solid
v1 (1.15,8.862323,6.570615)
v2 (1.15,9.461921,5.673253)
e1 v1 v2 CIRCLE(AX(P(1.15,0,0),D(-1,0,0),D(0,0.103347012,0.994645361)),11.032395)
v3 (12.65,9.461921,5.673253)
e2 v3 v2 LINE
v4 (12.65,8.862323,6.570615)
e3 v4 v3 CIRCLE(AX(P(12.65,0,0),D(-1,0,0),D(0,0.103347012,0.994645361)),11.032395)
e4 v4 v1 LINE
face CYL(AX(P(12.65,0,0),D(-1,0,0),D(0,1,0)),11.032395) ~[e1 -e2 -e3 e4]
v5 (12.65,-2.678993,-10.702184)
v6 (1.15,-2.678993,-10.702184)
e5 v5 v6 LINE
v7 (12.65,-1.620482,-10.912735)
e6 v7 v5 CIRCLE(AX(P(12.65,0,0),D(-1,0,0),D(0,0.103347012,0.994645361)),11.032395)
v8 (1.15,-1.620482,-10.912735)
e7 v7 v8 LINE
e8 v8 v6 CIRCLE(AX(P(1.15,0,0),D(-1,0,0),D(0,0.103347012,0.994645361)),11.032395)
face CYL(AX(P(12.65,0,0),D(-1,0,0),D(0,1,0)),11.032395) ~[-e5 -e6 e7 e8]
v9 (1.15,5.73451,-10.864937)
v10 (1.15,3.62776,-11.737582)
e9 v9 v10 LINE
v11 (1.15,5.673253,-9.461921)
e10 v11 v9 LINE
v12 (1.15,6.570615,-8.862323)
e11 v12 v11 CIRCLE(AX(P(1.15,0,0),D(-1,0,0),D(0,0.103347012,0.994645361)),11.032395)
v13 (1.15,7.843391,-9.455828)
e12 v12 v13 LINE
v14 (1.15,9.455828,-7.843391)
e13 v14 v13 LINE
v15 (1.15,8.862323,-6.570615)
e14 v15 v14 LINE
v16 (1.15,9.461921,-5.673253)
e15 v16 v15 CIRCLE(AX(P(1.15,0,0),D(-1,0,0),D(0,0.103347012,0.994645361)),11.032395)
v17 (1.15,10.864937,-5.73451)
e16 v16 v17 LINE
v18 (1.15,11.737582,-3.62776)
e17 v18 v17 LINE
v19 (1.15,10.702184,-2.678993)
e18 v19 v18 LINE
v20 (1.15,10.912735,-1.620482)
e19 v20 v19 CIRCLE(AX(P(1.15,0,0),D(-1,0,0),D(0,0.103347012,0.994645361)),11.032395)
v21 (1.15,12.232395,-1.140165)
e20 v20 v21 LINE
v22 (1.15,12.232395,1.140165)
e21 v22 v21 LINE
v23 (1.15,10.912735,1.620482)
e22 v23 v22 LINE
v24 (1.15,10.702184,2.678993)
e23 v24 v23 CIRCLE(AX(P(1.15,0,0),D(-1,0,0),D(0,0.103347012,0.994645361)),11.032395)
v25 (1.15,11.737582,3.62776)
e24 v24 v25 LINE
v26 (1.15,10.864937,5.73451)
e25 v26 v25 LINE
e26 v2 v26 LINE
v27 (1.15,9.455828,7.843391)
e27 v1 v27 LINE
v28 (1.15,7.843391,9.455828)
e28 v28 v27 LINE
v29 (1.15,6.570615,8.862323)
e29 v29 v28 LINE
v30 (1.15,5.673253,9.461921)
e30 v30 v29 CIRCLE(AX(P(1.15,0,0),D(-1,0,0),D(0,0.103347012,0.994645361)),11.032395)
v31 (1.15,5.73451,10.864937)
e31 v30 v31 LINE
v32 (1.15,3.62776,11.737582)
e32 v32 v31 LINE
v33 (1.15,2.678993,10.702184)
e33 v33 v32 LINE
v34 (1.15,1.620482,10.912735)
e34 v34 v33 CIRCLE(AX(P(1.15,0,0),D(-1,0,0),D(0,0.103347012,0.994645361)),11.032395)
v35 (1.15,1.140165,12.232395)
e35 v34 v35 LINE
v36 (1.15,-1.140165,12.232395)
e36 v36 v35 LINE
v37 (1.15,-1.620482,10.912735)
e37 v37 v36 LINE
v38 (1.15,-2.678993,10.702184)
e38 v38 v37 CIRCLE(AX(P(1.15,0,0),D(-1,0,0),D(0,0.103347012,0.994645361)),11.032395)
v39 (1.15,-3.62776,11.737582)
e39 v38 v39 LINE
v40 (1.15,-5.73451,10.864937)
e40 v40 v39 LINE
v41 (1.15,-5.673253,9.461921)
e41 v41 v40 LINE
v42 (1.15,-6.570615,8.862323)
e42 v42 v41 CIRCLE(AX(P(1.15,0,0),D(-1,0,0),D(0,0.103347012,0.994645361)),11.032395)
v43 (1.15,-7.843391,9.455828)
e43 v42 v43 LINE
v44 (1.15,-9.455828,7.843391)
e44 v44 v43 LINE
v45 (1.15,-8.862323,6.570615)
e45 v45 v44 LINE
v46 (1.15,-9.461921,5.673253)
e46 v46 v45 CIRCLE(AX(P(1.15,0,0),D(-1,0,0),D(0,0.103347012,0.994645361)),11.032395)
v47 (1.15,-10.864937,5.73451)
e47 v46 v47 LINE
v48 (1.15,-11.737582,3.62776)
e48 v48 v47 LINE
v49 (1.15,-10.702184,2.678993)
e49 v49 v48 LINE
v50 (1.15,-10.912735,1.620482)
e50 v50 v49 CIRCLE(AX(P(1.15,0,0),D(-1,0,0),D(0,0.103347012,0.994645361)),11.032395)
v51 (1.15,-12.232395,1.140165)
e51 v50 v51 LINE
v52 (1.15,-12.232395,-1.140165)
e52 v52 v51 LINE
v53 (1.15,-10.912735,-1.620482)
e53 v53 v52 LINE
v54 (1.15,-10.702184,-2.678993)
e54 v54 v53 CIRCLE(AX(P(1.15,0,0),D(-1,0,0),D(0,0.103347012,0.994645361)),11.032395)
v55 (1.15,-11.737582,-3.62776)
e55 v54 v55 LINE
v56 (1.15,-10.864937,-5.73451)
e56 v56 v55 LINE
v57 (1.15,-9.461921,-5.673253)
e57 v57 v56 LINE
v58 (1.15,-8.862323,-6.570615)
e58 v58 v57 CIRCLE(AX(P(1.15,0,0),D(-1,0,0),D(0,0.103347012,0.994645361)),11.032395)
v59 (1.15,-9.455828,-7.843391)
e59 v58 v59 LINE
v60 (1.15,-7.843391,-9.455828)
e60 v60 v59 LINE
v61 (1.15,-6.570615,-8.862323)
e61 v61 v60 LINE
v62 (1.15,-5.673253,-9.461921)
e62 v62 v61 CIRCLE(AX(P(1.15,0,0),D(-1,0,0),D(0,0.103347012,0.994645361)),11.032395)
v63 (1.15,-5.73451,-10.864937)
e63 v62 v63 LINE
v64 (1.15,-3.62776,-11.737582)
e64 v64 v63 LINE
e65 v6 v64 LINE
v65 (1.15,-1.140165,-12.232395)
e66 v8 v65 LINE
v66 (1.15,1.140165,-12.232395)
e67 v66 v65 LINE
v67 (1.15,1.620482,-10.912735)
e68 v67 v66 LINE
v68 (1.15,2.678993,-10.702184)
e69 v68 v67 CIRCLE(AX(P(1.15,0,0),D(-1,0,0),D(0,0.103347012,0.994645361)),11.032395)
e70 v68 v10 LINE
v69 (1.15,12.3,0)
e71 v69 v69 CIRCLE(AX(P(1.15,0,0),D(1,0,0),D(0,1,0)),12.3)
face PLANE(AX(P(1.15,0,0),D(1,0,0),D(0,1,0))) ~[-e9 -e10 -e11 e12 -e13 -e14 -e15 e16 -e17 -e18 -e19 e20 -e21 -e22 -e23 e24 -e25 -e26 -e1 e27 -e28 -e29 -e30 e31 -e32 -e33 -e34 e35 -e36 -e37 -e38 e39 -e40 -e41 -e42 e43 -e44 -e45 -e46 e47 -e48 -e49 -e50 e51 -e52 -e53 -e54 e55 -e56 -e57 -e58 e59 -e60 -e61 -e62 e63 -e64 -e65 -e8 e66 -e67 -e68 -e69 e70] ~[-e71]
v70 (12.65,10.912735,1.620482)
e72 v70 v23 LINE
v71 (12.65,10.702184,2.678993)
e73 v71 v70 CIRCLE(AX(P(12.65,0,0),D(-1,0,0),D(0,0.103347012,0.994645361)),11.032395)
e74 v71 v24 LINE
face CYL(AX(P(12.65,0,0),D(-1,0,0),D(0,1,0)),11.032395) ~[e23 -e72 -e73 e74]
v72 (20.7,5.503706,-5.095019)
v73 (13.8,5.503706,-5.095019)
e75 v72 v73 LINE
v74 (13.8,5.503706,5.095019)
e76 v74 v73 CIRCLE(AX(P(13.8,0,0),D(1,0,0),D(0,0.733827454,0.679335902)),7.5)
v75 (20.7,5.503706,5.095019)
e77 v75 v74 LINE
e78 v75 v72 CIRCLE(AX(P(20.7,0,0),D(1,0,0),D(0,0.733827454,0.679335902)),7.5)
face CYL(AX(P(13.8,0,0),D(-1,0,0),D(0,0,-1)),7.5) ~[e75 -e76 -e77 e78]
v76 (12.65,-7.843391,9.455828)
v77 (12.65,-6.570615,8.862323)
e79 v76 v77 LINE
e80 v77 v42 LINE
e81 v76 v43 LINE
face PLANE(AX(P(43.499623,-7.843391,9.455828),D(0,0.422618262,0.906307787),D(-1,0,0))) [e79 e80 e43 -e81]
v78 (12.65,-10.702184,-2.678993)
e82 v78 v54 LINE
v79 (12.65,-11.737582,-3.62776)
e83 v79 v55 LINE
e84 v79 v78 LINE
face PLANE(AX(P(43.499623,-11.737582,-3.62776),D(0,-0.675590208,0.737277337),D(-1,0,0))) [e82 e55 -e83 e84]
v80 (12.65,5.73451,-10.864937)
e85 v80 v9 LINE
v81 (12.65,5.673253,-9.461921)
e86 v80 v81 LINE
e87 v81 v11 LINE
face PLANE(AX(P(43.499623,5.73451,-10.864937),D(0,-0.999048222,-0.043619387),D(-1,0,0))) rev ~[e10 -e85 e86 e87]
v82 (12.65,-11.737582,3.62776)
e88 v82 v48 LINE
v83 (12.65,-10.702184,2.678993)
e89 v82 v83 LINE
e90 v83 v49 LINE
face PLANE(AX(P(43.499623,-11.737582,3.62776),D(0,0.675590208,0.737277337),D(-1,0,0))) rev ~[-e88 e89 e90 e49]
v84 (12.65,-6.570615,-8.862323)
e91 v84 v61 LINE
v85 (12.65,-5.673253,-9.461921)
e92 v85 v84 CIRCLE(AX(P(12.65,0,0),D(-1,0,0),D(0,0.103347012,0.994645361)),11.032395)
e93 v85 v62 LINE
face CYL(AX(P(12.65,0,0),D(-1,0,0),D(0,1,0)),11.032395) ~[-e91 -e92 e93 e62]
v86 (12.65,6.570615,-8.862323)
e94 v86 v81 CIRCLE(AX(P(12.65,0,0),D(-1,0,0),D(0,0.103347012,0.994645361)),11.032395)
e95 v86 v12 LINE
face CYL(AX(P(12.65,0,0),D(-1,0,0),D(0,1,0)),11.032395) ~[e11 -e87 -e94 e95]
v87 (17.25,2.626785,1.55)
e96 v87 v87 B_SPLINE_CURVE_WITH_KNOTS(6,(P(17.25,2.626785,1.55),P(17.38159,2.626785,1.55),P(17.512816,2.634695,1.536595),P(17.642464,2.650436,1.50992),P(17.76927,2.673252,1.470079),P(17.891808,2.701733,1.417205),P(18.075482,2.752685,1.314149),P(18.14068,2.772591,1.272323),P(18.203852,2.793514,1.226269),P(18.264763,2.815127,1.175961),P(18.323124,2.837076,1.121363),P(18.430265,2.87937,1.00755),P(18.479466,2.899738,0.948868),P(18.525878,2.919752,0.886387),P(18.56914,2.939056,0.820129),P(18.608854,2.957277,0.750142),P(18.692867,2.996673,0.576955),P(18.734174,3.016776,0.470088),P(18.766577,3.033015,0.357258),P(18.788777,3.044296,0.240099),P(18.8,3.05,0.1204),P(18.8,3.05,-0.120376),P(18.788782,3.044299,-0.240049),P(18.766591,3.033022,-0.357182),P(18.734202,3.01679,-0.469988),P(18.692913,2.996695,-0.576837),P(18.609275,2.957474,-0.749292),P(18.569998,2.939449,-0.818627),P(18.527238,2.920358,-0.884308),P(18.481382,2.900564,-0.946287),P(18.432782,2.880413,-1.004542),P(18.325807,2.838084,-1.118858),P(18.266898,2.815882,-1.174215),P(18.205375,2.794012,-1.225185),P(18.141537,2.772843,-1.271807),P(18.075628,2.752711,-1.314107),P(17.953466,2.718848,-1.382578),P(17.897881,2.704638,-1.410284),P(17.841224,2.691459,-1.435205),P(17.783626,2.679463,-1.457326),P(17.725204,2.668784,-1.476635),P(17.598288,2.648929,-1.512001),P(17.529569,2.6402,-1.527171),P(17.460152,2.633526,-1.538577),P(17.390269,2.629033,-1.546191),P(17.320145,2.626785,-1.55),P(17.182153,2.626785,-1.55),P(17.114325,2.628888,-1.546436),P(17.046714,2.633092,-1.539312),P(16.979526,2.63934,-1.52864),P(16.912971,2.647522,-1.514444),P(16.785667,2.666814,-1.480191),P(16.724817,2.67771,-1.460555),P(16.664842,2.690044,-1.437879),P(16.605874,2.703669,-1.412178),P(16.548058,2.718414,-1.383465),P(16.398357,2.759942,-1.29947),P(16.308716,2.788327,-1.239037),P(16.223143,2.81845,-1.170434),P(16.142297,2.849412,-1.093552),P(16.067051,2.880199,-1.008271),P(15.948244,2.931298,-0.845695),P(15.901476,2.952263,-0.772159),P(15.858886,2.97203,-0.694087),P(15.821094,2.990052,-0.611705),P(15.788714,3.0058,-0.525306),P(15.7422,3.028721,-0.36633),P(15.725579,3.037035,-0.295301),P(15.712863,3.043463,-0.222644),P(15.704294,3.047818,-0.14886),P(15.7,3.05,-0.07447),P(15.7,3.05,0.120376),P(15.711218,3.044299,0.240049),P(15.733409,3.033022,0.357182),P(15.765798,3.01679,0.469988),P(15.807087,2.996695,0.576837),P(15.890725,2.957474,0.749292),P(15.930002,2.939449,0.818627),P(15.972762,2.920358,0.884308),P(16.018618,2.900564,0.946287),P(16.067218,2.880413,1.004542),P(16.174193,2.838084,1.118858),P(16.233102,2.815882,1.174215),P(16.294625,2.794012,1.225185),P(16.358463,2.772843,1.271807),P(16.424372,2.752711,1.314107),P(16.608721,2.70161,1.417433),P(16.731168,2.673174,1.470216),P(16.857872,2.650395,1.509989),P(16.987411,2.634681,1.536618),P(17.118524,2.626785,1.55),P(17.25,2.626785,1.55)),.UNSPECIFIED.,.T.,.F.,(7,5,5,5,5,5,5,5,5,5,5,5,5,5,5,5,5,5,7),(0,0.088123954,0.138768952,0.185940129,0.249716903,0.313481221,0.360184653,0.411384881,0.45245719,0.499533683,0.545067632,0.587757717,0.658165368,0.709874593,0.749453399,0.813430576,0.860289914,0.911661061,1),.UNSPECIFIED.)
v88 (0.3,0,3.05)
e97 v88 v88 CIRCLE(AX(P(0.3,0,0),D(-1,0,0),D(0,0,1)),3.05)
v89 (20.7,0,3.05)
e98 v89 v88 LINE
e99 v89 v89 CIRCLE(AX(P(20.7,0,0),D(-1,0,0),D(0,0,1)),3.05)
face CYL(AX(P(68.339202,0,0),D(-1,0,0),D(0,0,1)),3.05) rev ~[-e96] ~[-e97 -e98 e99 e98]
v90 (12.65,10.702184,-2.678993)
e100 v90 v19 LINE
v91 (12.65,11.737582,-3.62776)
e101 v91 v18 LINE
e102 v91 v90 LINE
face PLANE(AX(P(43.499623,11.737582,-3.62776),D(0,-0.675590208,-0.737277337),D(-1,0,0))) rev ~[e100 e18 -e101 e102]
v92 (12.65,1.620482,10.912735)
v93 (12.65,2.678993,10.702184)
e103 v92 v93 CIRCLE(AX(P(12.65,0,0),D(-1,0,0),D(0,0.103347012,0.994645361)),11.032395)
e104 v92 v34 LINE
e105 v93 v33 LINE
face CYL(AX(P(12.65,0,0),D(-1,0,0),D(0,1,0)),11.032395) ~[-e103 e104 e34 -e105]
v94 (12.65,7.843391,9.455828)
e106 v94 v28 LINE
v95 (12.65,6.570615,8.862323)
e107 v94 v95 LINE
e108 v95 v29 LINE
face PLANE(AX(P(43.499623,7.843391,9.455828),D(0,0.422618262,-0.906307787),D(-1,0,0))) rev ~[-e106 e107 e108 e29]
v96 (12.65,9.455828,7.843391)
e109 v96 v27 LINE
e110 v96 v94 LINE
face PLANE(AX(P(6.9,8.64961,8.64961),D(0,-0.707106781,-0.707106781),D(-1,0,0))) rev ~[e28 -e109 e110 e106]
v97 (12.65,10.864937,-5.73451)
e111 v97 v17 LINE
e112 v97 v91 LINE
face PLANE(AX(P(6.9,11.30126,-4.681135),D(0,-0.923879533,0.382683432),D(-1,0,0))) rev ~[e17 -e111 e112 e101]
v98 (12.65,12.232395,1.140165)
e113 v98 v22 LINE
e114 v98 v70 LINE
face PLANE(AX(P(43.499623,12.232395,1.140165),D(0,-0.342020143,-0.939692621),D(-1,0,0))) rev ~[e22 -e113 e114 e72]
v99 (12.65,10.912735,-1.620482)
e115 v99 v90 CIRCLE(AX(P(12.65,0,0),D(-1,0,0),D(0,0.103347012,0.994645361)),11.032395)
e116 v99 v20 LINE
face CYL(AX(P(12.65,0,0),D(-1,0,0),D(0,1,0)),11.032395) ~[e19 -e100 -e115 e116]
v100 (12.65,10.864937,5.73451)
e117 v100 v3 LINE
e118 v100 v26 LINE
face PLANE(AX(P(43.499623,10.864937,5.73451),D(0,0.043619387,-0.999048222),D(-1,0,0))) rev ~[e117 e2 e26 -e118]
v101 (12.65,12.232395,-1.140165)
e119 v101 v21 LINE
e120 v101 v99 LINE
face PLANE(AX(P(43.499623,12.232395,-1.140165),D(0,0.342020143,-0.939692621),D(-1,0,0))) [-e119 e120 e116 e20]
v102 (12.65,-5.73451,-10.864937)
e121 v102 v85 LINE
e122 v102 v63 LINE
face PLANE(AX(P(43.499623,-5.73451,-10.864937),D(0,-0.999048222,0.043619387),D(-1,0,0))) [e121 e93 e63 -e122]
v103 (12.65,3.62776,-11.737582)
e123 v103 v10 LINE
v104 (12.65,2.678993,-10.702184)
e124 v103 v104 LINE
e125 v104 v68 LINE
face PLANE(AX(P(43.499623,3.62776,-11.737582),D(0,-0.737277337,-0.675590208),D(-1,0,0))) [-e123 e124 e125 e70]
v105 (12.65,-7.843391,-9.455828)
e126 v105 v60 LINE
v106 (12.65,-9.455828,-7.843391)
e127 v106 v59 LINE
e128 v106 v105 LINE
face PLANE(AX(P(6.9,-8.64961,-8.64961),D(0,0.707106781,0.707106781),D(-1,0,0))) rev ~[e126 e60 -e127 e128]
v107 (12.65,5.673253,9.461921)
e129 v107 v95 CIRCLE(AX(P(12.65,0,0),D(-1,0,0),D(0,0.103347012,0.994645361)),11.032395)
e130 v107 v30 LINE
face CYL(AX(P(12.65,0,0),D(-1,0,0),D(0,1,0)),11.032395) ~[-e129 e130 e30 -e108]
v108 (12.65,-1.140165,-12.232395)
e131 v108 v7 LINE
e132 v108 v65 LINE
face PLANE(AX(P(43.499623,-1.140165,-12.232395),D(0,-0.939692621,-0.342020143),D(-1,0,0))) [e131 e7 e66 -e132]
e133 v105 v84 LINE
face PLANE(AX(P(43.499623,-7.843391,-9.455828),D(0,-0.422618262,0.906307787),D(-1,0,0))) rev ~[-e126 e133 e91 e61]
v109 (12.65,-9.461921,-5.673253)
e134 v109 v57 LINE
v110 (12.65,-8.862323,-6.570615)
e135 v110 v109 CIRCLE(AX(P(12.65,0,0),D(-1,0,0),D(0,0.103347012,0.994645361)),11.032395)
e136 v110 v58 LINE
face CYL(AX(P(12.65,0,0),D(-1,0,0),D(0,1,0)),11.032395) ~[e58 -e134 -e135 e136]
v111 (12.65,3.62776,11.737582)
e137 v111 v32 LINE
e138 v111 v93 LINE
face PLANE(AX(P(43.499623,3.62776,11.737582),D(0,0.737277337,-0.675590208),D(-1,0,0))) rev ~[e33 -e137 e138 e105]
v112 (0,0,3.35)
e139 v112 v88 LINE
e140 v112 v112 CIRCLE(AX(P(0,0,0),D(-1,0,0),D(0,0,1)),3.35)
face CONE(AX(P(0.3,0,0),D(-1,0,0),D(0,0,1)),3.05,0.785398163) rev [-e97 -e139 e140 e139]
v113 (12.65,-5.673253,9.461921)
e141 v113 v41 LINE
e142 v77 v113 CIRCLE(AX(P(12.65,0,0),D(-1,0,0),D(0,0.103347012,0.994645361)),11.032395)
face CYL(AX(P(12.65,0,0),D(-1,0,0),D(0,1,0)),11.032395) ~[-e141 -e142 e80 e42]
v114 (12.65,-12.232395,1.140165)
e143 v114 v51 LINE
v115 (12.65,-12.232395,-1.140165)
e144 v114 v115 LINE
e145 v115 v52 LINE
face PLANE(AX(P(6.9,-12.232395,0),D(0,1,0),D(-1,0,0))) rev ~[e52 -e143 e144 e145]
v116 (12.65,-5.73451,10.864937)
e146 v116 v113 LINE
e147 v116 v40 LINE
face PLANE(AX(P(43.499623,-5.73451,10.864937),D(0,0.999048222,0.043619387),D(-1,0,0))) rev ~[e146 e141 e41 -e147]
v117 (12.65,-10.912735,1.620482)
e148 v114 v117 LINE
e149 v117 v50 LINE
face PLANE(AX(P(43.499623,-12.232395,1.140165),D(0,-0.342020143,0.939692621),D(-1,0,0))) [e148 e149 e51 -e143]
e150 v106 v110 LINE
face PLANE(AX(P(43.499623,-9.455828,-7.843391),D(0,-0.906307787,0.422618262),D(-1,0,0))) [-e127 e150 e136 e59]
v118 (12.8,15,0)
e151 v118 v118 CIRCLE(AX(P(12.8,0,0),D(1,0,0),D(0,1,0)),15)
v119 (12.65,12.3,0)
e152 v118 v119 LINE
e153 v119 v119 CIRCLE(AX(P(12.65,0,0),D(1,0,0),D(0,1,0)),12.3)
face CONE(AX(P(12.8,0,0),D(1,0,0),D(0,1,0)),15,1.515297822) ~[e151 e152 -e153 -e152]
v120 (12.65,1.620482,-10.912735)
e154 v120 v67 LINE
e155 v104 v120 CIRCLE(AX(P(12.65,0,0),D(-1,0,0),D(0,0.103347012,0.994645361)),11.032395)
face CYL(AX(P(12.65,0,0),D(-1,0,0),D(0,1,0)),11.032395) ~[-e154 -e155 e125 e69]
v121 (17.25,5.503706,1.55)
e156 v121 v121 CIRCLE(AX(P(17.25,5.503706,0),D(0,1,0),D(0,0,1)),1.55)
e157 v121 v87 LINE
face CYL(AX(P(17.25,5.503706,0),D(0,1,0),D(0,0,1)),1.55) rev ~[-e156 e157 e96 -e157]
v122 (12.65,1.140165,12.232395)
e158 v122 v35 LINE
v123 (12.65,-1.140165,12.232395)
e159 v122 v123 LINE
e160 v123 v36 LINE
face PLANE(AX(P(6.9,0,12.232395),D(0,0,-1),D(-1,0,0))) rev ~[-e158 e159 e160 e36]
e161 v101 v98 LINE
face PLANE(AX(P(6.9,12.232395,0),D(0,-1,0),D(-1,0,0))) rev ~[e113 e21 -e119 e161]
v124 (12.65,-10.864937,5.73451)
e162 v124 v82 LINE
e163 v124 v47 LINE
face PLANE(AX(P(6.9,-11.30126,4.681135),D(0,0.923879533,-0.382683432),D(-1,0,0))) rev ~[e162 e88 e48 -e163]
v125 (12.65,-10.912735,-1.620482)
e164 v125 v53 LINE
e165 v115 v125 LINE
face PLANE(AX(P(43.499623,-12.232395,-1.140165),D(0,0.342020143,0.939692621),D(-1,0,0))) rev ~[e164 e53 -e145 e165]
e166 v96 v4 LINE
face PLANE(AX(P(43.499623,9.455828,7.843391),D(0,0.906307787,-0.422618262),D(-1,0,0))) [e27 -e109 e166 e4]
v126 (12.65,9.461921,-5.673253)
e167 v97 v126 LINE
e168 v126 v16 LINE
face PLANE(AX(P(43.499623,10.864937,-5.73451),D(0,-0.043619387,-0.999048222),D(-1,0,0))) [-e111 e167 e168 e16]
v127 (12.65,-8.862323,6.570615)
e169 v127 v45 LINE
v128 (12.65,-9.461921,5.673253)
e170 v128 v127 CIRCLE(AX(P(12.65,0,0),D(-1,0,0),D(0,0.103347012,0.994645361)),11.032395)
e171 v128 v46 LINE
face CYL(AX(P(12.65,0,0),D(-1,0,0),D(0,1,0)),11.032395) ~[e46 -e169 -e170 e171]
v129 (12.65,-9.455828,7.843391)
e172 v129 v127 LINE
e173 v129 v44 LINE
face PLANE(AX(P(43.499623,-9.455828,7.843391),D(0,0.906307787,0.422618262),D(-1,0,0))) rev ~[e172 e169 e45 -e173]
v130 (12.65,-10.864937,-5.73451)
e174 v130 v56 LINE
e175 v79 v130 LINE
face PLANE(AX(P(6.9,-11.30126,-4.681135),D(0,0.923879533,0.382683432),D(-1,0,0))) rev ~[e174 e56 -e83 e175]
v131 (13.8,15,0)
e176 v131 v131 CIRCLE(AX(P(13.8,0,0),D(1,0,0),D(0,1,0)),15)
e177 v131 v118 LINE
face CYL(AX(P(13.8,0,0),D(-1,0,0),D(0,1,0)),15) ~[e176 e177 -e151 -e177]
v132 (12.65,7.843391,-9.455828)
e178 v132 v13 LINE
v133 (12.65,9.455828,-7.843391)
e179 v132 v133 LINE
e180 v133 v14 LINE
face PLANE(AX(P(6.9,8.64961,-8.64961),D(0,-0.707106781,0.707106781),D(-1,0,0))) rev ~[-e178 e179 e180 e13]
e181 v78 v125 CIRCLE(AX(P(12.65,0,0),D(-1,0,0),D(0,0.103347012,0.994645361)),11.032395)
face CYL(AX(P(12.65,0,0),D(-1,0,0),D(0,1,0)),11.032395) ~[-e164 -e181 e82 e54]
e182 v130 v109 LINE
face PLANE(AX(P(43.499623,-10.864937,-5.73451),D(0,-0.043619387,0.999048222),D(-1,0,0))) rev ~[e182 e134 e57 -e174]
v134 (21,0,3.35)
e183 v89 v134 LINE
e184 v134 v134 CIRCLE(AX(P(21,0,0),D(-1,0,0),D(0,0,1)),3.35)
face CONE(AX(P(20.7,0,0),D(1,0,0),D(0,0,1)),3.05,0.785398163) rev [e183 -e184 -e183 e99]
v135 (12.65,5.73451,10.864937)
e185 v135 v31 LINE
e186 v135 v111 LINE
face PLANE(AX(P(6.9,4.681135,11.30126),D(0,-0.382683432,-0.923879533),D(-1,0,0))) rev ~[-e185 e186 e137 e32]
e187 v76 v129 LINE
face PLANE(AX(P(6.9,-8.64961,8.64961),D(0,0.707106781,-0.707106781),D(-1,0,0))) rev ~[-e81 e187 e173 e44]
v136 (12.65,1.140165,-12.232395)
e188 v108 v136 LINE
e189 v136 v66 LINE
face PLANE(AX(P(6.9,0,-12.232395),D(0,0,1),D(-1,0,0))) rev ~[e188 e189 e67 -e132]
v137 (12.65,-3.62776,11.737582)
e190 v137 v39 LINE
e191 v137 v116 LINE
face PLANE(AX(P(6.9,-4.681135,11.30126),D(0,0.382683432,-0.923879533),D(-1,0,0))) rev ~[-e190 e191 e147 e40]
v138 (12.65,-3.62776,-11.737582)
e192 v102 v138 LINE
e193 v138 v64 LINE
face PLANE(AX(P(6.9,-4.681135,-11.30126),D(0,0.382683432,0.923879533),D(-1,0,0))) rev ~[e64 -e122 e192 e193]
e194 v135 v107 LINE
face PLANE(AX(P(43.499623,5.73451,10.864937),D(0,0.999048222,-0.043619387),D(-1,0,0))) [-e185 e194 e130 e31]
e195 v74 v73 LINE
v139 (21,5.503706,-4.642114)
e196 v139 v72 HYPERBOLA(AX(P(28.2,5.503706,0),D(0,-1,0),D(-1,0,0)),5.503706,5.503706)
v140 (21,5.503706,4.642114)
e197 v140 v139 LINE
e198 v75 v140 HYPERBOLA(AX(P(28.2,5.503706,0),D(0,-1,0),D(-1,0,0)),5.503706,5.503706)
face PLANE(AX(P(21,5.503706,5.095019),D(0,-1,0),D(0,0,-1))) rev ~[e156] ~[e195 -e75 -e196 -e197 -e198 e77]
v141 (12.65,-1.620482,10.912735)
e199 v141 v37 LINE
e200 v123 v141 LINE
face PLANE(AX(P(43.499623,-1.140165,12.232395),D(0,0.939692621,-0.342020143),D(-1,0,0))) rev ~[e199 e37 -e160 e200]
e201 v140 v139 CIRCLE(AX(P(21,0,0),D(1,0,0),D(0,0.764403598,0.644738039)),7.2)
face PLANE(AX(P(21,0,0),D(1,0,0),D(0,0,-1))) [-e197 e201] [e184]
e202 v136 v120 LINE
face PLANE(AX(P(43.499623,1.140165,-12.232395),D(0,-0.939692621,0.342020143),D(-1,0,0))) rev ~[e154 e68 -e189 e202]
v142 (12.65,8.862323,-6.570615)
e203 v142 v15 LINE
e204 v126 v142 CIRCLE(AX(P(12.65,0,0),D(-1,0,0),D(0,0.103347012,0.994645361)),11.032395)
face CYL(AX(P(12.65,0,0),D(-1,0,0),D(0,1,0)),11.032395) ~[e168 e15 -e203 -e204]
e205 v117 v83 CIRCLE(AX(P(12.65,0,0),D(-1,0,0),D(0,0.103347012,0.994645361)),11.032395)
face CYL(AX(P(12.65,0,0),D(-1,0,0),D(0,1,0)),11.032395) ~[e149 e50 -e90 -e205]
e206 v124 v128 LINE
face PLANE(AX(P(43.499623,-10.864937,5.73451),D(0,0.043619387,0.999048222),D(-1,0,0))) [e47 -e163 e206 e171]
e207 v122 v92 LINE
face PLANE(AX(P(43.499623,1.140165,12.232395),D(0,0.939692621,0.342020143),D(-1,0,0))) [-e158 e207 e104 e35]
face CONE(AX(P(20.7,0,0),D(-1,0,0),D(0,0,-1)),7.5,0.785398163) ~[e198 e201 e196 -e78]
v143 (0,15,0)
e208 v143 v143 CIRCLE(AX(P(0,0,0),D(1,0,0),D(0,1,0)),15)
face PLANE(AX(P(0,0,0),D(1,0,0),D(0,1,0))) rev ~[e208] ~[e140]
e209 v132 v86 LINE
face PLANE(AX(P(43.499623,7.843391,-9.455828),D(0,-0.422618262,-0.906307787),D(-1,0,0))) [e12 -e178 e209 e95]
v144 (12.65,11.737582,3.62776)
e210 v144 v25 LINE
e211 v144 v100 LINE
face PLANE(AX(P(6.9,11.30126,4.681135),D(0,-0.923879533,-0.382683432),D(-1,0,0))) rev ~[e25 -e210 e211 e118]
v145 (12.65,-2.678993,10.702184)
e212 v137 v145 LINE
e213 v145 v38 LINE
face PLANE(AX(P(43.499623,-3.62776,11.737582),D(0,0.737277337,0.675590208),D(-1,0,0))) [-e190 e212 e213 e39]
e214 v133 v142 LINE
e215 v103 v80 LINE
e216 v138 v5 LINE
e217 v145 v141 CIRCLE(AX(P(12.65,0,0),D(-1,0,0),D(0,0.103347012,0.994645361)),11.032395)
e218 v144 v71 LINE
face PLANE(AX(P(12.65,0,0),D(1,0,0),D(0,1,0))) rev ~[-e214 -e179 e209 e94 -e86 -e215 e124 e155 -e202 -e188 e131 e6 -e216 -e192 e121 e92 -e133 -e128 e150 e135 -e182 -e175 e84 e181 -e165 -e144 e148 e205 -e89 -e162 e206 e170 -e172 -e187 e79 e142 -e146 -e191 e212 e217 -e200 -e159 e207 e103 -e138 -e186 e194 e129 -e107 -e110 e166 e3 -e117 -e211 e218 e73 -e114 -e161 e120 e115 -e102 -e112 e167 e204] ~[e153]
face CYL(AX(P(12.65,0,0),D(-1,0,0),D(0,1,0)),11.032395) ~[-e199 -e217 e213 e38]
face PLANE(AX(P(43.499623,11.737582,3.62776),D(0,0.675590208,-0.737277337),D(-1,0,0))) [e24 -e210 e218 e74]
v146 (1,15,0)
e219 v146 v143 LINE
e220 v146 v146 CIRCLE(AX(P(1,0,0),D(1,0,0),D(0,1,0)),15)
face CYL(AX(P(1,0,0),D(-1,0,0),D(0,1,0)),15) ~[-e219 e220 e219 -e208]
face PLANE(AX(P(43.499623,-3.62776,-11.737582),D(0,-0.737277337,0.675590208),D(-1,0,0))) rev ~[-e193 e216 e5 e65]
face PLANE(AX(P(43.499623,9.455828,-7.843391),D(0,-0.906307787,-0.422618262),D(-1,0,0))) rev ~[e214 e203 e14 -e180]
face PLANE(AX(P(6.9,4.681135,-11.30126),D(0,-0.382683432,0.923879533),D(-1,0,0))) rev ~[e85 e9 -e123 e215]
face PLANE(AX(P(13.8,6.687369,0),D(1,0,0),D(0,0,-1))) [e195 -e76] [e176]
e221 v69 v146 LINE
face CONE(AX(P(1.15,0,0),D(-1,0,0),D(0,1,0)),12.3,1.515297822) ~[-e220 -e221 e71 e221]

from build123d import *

# Parameters (mm, degrees)
SKETCH2_R                = 7.5
BOSS_EXTRUDE1_DEPTH      = 7.2
F_6_0_6_DIAMETER_HOLE1_D = 6.1
RIB1_REACH               = 31.85
SKETCH5_WALL_W           = 73.199246226
SKETCH5_WALL_H           = 2.28033022
RIB1_DRAFT_ANGLE         = 20
RIB2_REACH               = 31.85
SKETCH6_WALL_W           = 73.199246226
SKETCH6_WALL_H           = 2.28033022
RIB2_DRAFT_ANGLE         = 20
RIB3_REACH               = 31.85
SKETCH7_WALL_W           = 73.199246226
SKETCH7_WALL_H           = 2.28033022
RIB3_DRAFT_ANGLE         = 20
RIB4_REACH               = 31.85
SKETCH8_WALL_W           = 73.199246226
SKETCH8_WALL_H           = 2.28033022
RIB4_DRAFT_ANGLE         = 20
RIB5_REACH               = 31.85
SKETCH9_WALL_W           = 73.199246226
SKETCH9_WALL_H           = 2.28033022
RIB5_DRAFT_ANGLE         = 20
RIB6_REACH               = 31.85
SKETCH10_WALL_W          = 73.199246226
SKETCH10_WALL_H          = 2.28033022
RIB6_DRAFT_ANGLE         = 20
RIB7_REACH               = 31.85
SKETCH11_WALL_W          = 73.199246226
SKETCH11_WALL_H          = 2.28033022
RIB7_DRAFT_ANGLE         = 20
RIB8_REACH               = 31.85
SKETCH12_WALL_W          = 73.199246226
SKETCH12_WALL_H          = 2.28033022
RIB8_DRAFT_ANGLE         = 20
RIB9_REACH               = 31.85
SKETCH13_WALL_W          = 73.199246226
SKETCH13_WALL_H          = 2.28033022
RIB9_DRAFT_ANGLE         = 20
RIB10_REACH              = 31.85
SKETCH14_WALL_W          = 73.199246226
SKETCH14_WALL_H          = 2.28033022
RIB10_DRAFT_ANGLE        = 20
RIB11_REACH              = 31.85
SKETCH15_WALL_W          = 73.199246226
SKETCH15_WALL_H          = 2.28033022
RIB11_DRAFT_ANGLE        = 20
RIB12_REACH              = 31.85
SKETCH16_WALL_W          = 73.199246226
SKETCH16_WALL_H          = 2.28033022
RIB12_DRAFT_ANGLE        = 20
RIB13_REACH              = 31.85
SKETCH17_WALL_W          = 73.199246226
SKETCH17_WALL_H          = 2.28033022
RIB13_DRAFT_ANGLE        = 20
RIB14_REACH              = 31.85
SKETCH18_WALL_W          = 73.199246226
SKETCH18_WALL_H          = 2.28033022
RIB14_DRAFT_ANGLE        = 20
RIB15_REACH              = 31.85
SKETCH19_WALL_W          = 73.199246226
SKETCH19_WALL_H          = 2.28033022
RIB15_DRAFT_ANGLE        = 20
RIB16_REACH              = 31.85
SKETCH20_WALL_W          = 73.199246226
SKETCH20_WALL_H          = 2.28033022
RIB16_DRAFT_ANGLE        = 20
CHAMFER1_SIZE            = 0.3
SKETCH21_W               = 10.190038524
SKETCH21_H               = 2.367326759
CUT_EXTRUDE1_DEPTH       = 7.2
SKETCH22_R               = 1.55
CUT_EXTRUDE2_DEPTH       = 5.2


with BuildPart() as part:
    # Sketch1 → Revolve1 (revolve)
    with BuildSketch(Plane.XY):
        Polygon((0, 15), (0, 0), (13.8, 0), (13.8, 15), (12.8, 15), (12.65, 12.3), (12.65, 11.032395447), (1.15, 11.032395447), (1.15, 12.3), (1, 15), align=None)
    revolve(axis=Axis((0, 0, 0), (1, 0, 0)))

    # Sketch2 → Boss-Extrude1 (add)
    with BuildSketch(Plane(origin=(13.8, 0, 0), x_dir=(0, 0, -1), z_dir=(1, 0, 0))):
        Circle(SKETCH2_R)
    extrude(amount=BOSS_EXTRUDE1_DEPTH)

    # Ø6.0 (6) Diameter Hole1 (through all)
    with Locations(Plane(origin=(21, 0, 0), x_dir=(0, 0, -1), z_dir=(1, 0, 0))):
        with Locations((0, 0)):
            Hole(F_6_0_6_DIAMETER_HOLE1_D / 2)

    # Sketch5 wall → Rib1 (add, up to next)
    with BuildSketch(Plane(origin=(6.9, 0, 12.232395447), x_dir=(-1, 0, 0), z_dir=(0, 0, -1)), mode=Mode.PRIVATE) as rib1_sk1:
        Rectangle(SKETCH5_WALL_W, SKETCH5_WALL_H)
    rib1_tool1 = extrude(rib1_sk1.sketch, amount=RIB1_REACH, mode=Mode.PRIVATE) - part.part
    add(rib1_tool1.solids().sort_by_distance((6.9, 0, 12.232395447))[0])

    # Rib1 draft
    rib1_draft_faces = [part.faces().sort_by_distance(p)[0] for p in [
        (6.9, 1.14016511, 11.732395447),
        (6.9, -1.14016511, 11.732395447),
    ]]
    draft(rib1_draft_faces, Plane(origin=(6.9, 0, 12.232395447), x_dir=(-1, 0, 0), z_dir=(0, 0, 1)), RIB1_DRAFT_ANGLE)

    # Sketch6 wall → Rib2 (add, up to next)
    with BuildSketch(Plane(origin=(6.9, -12.232395447, 0), x_dir=(-1, 0, 0), z_dir=(0, 1, 0)), mode=Mode.PRIVATE) as rib2_sk1:
        Rectangle(SKETCH6_WALL_W, SKETCH6_WALL_H)
    rib2_tool1 = extrude(rib2_sk1.sketch, amount=RIB2_REACH, mode=Mode.PRIVATE) - part.part
    add(rib2_tool1.solids().sort_by_distance((6.9, -12.232395447, 0))[0])

    # Rib2 draft
    rib2_draft_faces = [part.faces().sort_by_distance(p)[0] for p in [
        (6.9, -11.732395447, 1.14016511),
        (6.9, -11.732395447, -1.14016511),
    ]]
    draft(rib2_draft_faces, Plane(origin=(6.9, -12.232395447, 0), x_dir=(-1, 0, 0), z_dir=(0, -1, 0)), RIB2_DRAFT_ANGLE)

    # Sketch7 wall → Rib3 (add, up to next)
    with BuildSketch(Plane(origin=(6.9, 0, -12.232395447), x_dir=(-1, 0, 0), z_dir=(0, 0, 1)), mode=Mode.PRIVATE) as rib3_sk1:
        Rectangle(SKETCH7_WALL_W, SKETCH7_WALL_H)
    rib3_tool1 = extrude(rib3_sk1.sketch, amount=RIB3_REACH, mode=Mode.PRIVATE) - part.part
    add(rib3_tool1.solids().sort_by_distance((6.9, 0, -12.232395447))[0])

    # Rib3 draft
    rib3_draft_faces = [part.faces().sort_by_distance(p)[0] for p in [
        (6.9, -1.14016511, -11.732395447),
        (6.9, 1.14016511, -11.732395447),
    ]]
    draft(rib3_draft_faces, Plane(origin=(6.9, 0, -12.232395447), x_dir=(-1, 0, 0), z_dir=(0, 0, -1)), RIB3_DRAFT_ANGLE)

    # Sketch8 wall → Rib4 (add, up to next)
    with BuildSketch(Plane(origin=(6.9, 12.232395447, 0), x_dir=(-1, 0, 0), z_dir=(0, -1, 0)), mode=Mode.PRIVATE) as rib4_sk1:
        Rectangle(SKETCH8_WALL_W, SKETCH8_WALL_H)
    rib4_tool1 = extrude(rib4_sk1.sketch, amount=RIB4_REACH, mode=Mode.PRIVATE) - part.part
    add(rib4_tool1.solids().sort_by_distance((6.9, 12.232395447, 0))[0])

    # Rib4 draft
    rib4_draft_faces = [part.faces().sort_by_distance(p)[0] for p in [
        (6.9, 11.732395447, -1.14016511),
        (6.9, 11.732395447, 1.14016511),
    ]]
    draft(rib4_draft_faces, Plane(origin=(6.9, 12.232395447, 0), x_dir=(-1, 0, 0), z_dir=(0, 1, 0)), RIB4_DRAFT_ANGLE)

    # Sketch9 wall → Rib5 (add, up to next)
    with BuildSketch(Plane(origin=(6.9, -4.681135076, 11.301259787), x_dir=(-1, 0, 0), z_dir=(0, 0.382683432365, -0.923879532511)), mode=Mode.PRIVATE) as rib5_sk1:
        Rectangle(SKETCH9_WALL_W, SKETCH9_WALL_H)
    rib5_tool1 = extrude(rib5_sk1.sketch, amount=RIB5_REACH, mode=Mode.PRIVATE) - part.part
    add(rib5_tool1.solids().sort_by_distance((6.9, -4.681135076, 11.301259787))[0])

    # Rib5 draft
    rib5_draft_faces = [part.faces().sort_by_distance(p)[0] for p in [
        (6.9, -3.436418151, 11.275642318),
        (6.9, -5.543168569, 10.402997723),
    ]]
    draft(rib5_draft_faces, Plane(origin=(6.9, -4.681135076, 11.301259787), x_dir=(-1, 0, 0), z_dir=(0, -0.382683432365, 0.923879532511)), RIB5_DRAFT_ANGLE)

    # Sketch10 wall → Rib6 (add, up to next)
    with BuildSketch(Plane(origin=(6.9, -4.681135076, -11.301259787), x_dir=(-1, 0, 0), z_dir=(0, 0.382683432365, 0.923879532511)), mode=Mode.PRIVATE) as rib6_sk1:
        Rectangle(SKETCH10_WALL_W, SKETCH10_WALL_H)
    rib6_tool1 = extrude(rib6_sk1.sketch, amount=RIB6_REACH, mode=Mode.PRIVATE) - part.part
    add(rib6_tool1.solids().sort_by_distance((6.9, -4.681135076, -11.301259787))[0])

    # Rib6 draft
    rib6_draft_faces = [part.faces().sort_by_distance(p)[0] for p in [
        (6.9, -5.543168569, -10.402997723),
        (6.9, -3.436418151, -11.275642318),
    ]]
    draft(rib6_draft_faces, Plane(origin=(6.9, -4.681135076, -11.301259787), x_dir=(-1, 0, 0), z_dir=(0, -0.382683432365, -0.923879532511)), RIB6_DRAFT_ANGLE)

    # Sketch11 wall → Rib7 (add, up to next)
    with BuildSketch(Plane(origin=(6.9, -11.301259787, 4.681135076), x_dir=(-1, 0, 0), z_dir=(0, 0.923879532511, -0.382683432365)), mode=Mode.PRIVATE) as rib7_sk1:
        Rectangle(SKETCH11_WALL_W, SKETCH11_WALL_H)
    rib7_tool1 = extrude(rib7_sk1.sketch, amount=RIB7_REACH, mode=Mode.PRIVATE) - part.part
    add(rib7_tool1.solids().sort_by_distance((6.9, -11.301259787, 4.681135076))[0])

    # Rib7 draft
    rib7_draft_faces = [part.faces().sort_by_distance(p)[0] for p in [
        (6.9, -10.402997723, 5.543168569),
        (6.9, -11.275642318, 3.436418151),
    ]]
    draft(rib7_draft_faces, Plane(origin=(6.9, -11.301259787, 4.681135076), x_dir=(-1, 0, 0), z_dir=(0, -0.923879532511, 0.382683432365)), RIB7_DRAFT_ANGLE)

    # Sketch12 wall → Rib8 (add, up to next)
    with BuildSketch(Plane(origin=(6.9, -8.649609771, -8.649609771), x_dir=(-1, 0, 0), z_dir=(0, 0.707106781187, 0.707106781187)), mode=Mode.PRIVATE) as rib8_sk1:
        Rectangle(SKETCH12_WALL_W, SKETCH12_WALL_H)
    rib8_tool1 = extrude(rib8_sk1.sketch, amount=RIB8_REACH, mode=Mode.PRIVATE) - part.part
    add(rib8_tool1.solids().sort_by_distance((6.9, -8.649609771, -8.649609771))[0])

    # Rib8 draft
    rib8_draft_faces = [part.faces().sort_by_distance(p)[0] for p in [
        (6.9, -9.102274861, -7.4898379),
        (6.9, -7.4898379, -9.102274861),
    ]]
    draft(rib8_draft_faces, Plane(origin=(6.9, -8.649609771, -8.649609771), x_dir=(-1, 0, 0), z_dir=(0, -0.707106781187, -0.707106781187)), RIB8_DRAFT_ANGLE)

    # Sketch13 wall → Rib9 (add, up to next)
    with BuildSketch(Plane(origin=(6.9, 8.649609771, 8.649609771), x_dir=(-1, 0, 0), z_dir=(0, -0.707106781187, -0.707106781187)), mode=Mode.PRIVATE) as rib9_sk1:
        Rectangle(SKETCH13_WALL_W, SKETCH13_WALL_H)
    rib9_tool1 = extrude(rib9_sk1.sketch, amount=RIB9_REACH, mode=Mode.PRIVATE) - part.part
    add(rib9_tool1.solids().sort_by_distance((6.9, 8.649609771, 8.649609771))[0])

    # Rib9 draft
    rib9_draft_faces = [part.faces().sort_by_distance(p)[0] for p in [
        (6.9, 9.102274861, 7.4898379),
        (6.9, 7.4898379, 9.102274861),
    ]]
    draft(rib9_draft_faces, Plane(origin=(6.9, 8.649609771, 8.649609771), x_dir=(-1, 0, 0), z_dir=(0, 0.707106781187, 0.707106781187)), RIB9_DRAFT_ANGLE)

    # Sketch14 wall → Rib10 (add, up to next)
    with BuildSketch(Plane(origin=(6.9, -11.301259787, -4.681135076), x_dir=(-1, 0, 0), z_dir=(0, 0.923879532511, 0.382683432365)), mode=Mode.PRIVATE) as rib10_sk1:
        Rectangle(SKETCH14_WALL_W, SKETCH14_WALL_H)
    rib10_tool1 = extrude(rib10_sk1.sketch, amount=RIB10_REACH, mode=Mode.PRIVATE) - part.part
    add(rib10_tool1.solids().sort_by_distance((6.9, -11.301259787, -4.681135076))[0])

    # Rib10 draft
    rib10_draft_faces = [part.faces().sort_by_distance(p)[0] for p in [
        (6.9, -11.275642318, -3.436418151),
        (6.9, -10.402997723, -5.543168569),
    ]]
    draft(rib10_draft_faces, Plane(origin=(6.9, -11.301259787, -4.681135076), x_dir=(-1, 0, 0), z_dir=(0, -0.923879532511, -0.382683432365)), RIB10_DRAFT_ANGLE)

    # Sketch15 wall → Rib11 (add, up to next)
    with BuildSketch(Plane(origin=(6.9, -8.649609771, 8.649609771), x_dir=(-1, 0, 0), z_dir=(0, 0.707106781187, -0.707106781187)), mode=Mode.PRIVATE) as rib11_sk1:
        Rectangle(SKETCH15_WALL_W, SKETCH15_WALL_H)
    rib11_tool1 = extrude(rib11_sk1.sketch, amount=RIB11_REACH, mode=Mode.PRIVATE) - part.part
    add(rib11_tool1.solids().sort_by_distance((6.9, -8.649609771, 8.649609771))[0])

    # Rib11 draft
    rib11_draft_faces = [part.faces().sort_by_distance(p)[0] for p in [
        (6.9, -7.4898379, 9.102274861),
        (6.9, -9.102274861, 7.4898379),
    ]]
    draft(rib11_draft_faces, Plane(origin=(6.9, -8.649609771, 8.649609771), x_dir=(-1, 0, 0), z_dir=(0, -0.707106781187, 0.707106781187)), RIB11_DRAFT_ANGLE)

    # Sketch16 wall → Rib12 (add, up to next)
    with BuildSketch(Plane(origin=(6.9, 8.649609771, -8.649609771), x_dir=(-1, 0, 0), z_dir=(0, -0.707106781187, 0.707106781187)), mode=Mode.PRIVATE) as rib12_sk1:
        Rectangle(SKETCH16_WALL_W, SKETCH16_WALL_H)
    rib12_tool1 = extrude(rib12_sk1.sketch, amount=RIB12_REACH, mode=Mode.PRIVATE) - part.part
    add(rib12_tool1.solids().sort_by_distance((6.9, 8.649609771, -8.649609771))[0])

    # Rib12 draft
    rib12_draft_faces = [part.faces().sort_by_distance(p)[0] for p in [
        (6.9, 7.4898379, -9.102274861),
        (6.9, 9.102274861, -7.4898379),
    ]]
    draft(rib12_draft_faces, Plane(origin=(6.9, 8.649609771, -8.649609771), x_dir=(-1, 0, 0), z_dir=(0, 0.707106781187, -0.707106781187)), RIB12_DRAFT_ANGLE)

    # Sketch17 wall → Rib13 (add, up to next)
    with BuildSketch(Plane(origin=(6.9, 4.681135076, -11.301259787), x_dir=(-1, 0, 0), z_dir=(0, -0.382683432365, 0.923879532511)), mode=Mode.PRIVATE) as rib13_sk1:
        Rectangle(SKETCH17_WALL_W, SKETCH17_WALL_H)
    rib13_tool1 = extrude(rib13_sk1.sketch, amount=RIB13_REACH, mode=Mode.PRIVATE) - part.part
    add(rib13_tool1.solids().sort_by_distance((6.9, 4.681135076, -11.301259787))[0])

    # Rib13 draft
    rib13_draft_faces = [part.faces().sort_by_distance(p)[0] for p in [
        (6.9, 3.436418151, -11.275642318),
        (6.9, 5.543168569, -10.402997723),
    ]]
    draft(rib13_draft_faces, Plane(origin=(6.9, 4.681135076, -11.301259787), x_dir=(-1, 0, 0), z_dir=(0, 0.382683432365, -0.923879532511)), RIB13_DRAFT_ANGLE)

    # Sketch18 wall → Rib14 (add, up to next)
    with BuildSketch(Plane(origin=(6.9, 11.301259787, 4.681135076), x_dir=(-1, 0, 0), z_dir=(0, -0.923879532511, -0.382683432365)), mode=Mode.PRIVATE) as rib14_sk1:
        Rectangle(SKETCH18_WALL_W, SKETCH18_WALL_H)
    rib14_tool1 = extrude(rib14_sk1.sketch, amount=RIB14_REACH, mode=Mode.PRIVATE) - part.part
    add(rib14_tool1.solids().sort_by_distance((6.9, 11.301259787, 4.681135076))[0])

    # Rib14 draft
    rib14_draft_faces = [part.faces().sort_by_distance(p)[0] for p in [
        (6.9, 11.275642318, 3.436418151),
        (6.9, 10.402997723, 5.543168569),
    ]]
    draft(rib14_draft_faces, Plane(origin=(6.9, 11.301259787, 4.681135076), x_dir=(-1, 0, 0), z_dir=(0, 0.923879532511, 0.382683432365)), RIB14_DRAFT_ANGLE)

    # Sketch19 wall → Rib15 (add, up to next)
    with BuildSketch(Plane(origin=(6.9, 11.301259787, -4.681135076), x_dir=(-1, 0, 0), z_dir=(0, -0.923879532511, 0.382683432365)), mode=Mode.PRIVATE) as rib15_sk1:
        Rectangle(SKETCH19_WALL_W, SKETCH19_WALL_H)
    rib15_tool1 = extrude(rib15_sk1.sketch, amount=RIB15_REACH, mode=Mode.PRIVATE) - part.part
    add(rib15_tool1.solids().sort_by_distance((6.9, 11.301259787, -4.681135076))[0])

    # Rib15 draft
    rib15_draft_faces = [part.faces().sort_by_distance(p)[0] for p in [
        (6.9, 10.402997723, -5.543168569),
        (6.9, 11.275642318, -3.436418151),
    ]]
    draft(rib15_draft_faces, Plane(origin=(6.9, 11.301259787, -4.681135076), x_dir=(-1, 0, 0), z_dir=(0, 0.923879532511, -0.382683432365)), RIB15_DRAFT_ANGLE)

    # Sketch20 wall → Rib16 (add, up to next)
    with BuildSketch(Plane(origin=(6.9, 4.681135076, 11.301259787), x_dir=(-1, 0, 0), z_dir=(0, -0.382683432365, -0.923879532511)), mode=Mode.PRIVATE) as rib16_sk1:
        Rectangle(SKETCH20_WALL_W, SKETCH20_WALL_H)
    rib16_tool1 = extrude(rib16_sk1.sketch, amount=RIB16_REACH, mode=Mode.PRIVATE) - part.part
    add(rib16_tool1.solids().sort_by_distance((6.9, 4.681135076, 11.301259787))[0])

    # Rib16 draft
    rib16_draft_faces = [part.faces().sort_by_distance(p)[0] for p in [
        (6.9, 5.543168569, 10.402997723),
        (6.9, 3.436418151, 11.275642318),
    ]]
    draft(rib16_draft_faces, Plane(origin=(6.9, 4.681135076, 11.301259787), x_dir=(-1, 0, 0), z_dir=(0, 0.382683432365, 0.923879532511)), RIB16_DRAFT_ANGLE)

    # Chamfer1
    chamfer1_edges = [part.edges().sort_by_distance(p)[0] for p in [
        (21, 0, 7.5),
        (21, 0, -3.05),
        (0, 0, -3.05),
    ]]
    chamfer(chamfer1_edges, length=CHAMFER1_SIZE)

    # Sketch21 → Cut-Extrude1 (cut)
    with BuildSketch(Plane(origin=(21, 0, 0), x_dir=(0, 0, -1), z_dir=(1, 0, 0))):
        with Locations((0, 6.687369288)):
            Rectangle(SKETCH21_W, SKETCH21_H)
    extrude(amount=-CUT_EXTRUDE1_DEPTH, mode=Mode.SUBTRACT)

    # Sketch22 → Cut-Extrude2 (cut)
    with BuildSketch(Plane(origin=(0, 5.503705908, 0), x_dir=(1, 0, 0), z_dir=(0, 1, 0))):
        with Locations(Location((17.25, 0, 0), (0, 0, 270))):
            Circle(SKETCH22_R)
    extrude(amount=-CUT_EXTRUDE2_DEPTH, mode=Mode.SUBTRACT)


solid = part.part
